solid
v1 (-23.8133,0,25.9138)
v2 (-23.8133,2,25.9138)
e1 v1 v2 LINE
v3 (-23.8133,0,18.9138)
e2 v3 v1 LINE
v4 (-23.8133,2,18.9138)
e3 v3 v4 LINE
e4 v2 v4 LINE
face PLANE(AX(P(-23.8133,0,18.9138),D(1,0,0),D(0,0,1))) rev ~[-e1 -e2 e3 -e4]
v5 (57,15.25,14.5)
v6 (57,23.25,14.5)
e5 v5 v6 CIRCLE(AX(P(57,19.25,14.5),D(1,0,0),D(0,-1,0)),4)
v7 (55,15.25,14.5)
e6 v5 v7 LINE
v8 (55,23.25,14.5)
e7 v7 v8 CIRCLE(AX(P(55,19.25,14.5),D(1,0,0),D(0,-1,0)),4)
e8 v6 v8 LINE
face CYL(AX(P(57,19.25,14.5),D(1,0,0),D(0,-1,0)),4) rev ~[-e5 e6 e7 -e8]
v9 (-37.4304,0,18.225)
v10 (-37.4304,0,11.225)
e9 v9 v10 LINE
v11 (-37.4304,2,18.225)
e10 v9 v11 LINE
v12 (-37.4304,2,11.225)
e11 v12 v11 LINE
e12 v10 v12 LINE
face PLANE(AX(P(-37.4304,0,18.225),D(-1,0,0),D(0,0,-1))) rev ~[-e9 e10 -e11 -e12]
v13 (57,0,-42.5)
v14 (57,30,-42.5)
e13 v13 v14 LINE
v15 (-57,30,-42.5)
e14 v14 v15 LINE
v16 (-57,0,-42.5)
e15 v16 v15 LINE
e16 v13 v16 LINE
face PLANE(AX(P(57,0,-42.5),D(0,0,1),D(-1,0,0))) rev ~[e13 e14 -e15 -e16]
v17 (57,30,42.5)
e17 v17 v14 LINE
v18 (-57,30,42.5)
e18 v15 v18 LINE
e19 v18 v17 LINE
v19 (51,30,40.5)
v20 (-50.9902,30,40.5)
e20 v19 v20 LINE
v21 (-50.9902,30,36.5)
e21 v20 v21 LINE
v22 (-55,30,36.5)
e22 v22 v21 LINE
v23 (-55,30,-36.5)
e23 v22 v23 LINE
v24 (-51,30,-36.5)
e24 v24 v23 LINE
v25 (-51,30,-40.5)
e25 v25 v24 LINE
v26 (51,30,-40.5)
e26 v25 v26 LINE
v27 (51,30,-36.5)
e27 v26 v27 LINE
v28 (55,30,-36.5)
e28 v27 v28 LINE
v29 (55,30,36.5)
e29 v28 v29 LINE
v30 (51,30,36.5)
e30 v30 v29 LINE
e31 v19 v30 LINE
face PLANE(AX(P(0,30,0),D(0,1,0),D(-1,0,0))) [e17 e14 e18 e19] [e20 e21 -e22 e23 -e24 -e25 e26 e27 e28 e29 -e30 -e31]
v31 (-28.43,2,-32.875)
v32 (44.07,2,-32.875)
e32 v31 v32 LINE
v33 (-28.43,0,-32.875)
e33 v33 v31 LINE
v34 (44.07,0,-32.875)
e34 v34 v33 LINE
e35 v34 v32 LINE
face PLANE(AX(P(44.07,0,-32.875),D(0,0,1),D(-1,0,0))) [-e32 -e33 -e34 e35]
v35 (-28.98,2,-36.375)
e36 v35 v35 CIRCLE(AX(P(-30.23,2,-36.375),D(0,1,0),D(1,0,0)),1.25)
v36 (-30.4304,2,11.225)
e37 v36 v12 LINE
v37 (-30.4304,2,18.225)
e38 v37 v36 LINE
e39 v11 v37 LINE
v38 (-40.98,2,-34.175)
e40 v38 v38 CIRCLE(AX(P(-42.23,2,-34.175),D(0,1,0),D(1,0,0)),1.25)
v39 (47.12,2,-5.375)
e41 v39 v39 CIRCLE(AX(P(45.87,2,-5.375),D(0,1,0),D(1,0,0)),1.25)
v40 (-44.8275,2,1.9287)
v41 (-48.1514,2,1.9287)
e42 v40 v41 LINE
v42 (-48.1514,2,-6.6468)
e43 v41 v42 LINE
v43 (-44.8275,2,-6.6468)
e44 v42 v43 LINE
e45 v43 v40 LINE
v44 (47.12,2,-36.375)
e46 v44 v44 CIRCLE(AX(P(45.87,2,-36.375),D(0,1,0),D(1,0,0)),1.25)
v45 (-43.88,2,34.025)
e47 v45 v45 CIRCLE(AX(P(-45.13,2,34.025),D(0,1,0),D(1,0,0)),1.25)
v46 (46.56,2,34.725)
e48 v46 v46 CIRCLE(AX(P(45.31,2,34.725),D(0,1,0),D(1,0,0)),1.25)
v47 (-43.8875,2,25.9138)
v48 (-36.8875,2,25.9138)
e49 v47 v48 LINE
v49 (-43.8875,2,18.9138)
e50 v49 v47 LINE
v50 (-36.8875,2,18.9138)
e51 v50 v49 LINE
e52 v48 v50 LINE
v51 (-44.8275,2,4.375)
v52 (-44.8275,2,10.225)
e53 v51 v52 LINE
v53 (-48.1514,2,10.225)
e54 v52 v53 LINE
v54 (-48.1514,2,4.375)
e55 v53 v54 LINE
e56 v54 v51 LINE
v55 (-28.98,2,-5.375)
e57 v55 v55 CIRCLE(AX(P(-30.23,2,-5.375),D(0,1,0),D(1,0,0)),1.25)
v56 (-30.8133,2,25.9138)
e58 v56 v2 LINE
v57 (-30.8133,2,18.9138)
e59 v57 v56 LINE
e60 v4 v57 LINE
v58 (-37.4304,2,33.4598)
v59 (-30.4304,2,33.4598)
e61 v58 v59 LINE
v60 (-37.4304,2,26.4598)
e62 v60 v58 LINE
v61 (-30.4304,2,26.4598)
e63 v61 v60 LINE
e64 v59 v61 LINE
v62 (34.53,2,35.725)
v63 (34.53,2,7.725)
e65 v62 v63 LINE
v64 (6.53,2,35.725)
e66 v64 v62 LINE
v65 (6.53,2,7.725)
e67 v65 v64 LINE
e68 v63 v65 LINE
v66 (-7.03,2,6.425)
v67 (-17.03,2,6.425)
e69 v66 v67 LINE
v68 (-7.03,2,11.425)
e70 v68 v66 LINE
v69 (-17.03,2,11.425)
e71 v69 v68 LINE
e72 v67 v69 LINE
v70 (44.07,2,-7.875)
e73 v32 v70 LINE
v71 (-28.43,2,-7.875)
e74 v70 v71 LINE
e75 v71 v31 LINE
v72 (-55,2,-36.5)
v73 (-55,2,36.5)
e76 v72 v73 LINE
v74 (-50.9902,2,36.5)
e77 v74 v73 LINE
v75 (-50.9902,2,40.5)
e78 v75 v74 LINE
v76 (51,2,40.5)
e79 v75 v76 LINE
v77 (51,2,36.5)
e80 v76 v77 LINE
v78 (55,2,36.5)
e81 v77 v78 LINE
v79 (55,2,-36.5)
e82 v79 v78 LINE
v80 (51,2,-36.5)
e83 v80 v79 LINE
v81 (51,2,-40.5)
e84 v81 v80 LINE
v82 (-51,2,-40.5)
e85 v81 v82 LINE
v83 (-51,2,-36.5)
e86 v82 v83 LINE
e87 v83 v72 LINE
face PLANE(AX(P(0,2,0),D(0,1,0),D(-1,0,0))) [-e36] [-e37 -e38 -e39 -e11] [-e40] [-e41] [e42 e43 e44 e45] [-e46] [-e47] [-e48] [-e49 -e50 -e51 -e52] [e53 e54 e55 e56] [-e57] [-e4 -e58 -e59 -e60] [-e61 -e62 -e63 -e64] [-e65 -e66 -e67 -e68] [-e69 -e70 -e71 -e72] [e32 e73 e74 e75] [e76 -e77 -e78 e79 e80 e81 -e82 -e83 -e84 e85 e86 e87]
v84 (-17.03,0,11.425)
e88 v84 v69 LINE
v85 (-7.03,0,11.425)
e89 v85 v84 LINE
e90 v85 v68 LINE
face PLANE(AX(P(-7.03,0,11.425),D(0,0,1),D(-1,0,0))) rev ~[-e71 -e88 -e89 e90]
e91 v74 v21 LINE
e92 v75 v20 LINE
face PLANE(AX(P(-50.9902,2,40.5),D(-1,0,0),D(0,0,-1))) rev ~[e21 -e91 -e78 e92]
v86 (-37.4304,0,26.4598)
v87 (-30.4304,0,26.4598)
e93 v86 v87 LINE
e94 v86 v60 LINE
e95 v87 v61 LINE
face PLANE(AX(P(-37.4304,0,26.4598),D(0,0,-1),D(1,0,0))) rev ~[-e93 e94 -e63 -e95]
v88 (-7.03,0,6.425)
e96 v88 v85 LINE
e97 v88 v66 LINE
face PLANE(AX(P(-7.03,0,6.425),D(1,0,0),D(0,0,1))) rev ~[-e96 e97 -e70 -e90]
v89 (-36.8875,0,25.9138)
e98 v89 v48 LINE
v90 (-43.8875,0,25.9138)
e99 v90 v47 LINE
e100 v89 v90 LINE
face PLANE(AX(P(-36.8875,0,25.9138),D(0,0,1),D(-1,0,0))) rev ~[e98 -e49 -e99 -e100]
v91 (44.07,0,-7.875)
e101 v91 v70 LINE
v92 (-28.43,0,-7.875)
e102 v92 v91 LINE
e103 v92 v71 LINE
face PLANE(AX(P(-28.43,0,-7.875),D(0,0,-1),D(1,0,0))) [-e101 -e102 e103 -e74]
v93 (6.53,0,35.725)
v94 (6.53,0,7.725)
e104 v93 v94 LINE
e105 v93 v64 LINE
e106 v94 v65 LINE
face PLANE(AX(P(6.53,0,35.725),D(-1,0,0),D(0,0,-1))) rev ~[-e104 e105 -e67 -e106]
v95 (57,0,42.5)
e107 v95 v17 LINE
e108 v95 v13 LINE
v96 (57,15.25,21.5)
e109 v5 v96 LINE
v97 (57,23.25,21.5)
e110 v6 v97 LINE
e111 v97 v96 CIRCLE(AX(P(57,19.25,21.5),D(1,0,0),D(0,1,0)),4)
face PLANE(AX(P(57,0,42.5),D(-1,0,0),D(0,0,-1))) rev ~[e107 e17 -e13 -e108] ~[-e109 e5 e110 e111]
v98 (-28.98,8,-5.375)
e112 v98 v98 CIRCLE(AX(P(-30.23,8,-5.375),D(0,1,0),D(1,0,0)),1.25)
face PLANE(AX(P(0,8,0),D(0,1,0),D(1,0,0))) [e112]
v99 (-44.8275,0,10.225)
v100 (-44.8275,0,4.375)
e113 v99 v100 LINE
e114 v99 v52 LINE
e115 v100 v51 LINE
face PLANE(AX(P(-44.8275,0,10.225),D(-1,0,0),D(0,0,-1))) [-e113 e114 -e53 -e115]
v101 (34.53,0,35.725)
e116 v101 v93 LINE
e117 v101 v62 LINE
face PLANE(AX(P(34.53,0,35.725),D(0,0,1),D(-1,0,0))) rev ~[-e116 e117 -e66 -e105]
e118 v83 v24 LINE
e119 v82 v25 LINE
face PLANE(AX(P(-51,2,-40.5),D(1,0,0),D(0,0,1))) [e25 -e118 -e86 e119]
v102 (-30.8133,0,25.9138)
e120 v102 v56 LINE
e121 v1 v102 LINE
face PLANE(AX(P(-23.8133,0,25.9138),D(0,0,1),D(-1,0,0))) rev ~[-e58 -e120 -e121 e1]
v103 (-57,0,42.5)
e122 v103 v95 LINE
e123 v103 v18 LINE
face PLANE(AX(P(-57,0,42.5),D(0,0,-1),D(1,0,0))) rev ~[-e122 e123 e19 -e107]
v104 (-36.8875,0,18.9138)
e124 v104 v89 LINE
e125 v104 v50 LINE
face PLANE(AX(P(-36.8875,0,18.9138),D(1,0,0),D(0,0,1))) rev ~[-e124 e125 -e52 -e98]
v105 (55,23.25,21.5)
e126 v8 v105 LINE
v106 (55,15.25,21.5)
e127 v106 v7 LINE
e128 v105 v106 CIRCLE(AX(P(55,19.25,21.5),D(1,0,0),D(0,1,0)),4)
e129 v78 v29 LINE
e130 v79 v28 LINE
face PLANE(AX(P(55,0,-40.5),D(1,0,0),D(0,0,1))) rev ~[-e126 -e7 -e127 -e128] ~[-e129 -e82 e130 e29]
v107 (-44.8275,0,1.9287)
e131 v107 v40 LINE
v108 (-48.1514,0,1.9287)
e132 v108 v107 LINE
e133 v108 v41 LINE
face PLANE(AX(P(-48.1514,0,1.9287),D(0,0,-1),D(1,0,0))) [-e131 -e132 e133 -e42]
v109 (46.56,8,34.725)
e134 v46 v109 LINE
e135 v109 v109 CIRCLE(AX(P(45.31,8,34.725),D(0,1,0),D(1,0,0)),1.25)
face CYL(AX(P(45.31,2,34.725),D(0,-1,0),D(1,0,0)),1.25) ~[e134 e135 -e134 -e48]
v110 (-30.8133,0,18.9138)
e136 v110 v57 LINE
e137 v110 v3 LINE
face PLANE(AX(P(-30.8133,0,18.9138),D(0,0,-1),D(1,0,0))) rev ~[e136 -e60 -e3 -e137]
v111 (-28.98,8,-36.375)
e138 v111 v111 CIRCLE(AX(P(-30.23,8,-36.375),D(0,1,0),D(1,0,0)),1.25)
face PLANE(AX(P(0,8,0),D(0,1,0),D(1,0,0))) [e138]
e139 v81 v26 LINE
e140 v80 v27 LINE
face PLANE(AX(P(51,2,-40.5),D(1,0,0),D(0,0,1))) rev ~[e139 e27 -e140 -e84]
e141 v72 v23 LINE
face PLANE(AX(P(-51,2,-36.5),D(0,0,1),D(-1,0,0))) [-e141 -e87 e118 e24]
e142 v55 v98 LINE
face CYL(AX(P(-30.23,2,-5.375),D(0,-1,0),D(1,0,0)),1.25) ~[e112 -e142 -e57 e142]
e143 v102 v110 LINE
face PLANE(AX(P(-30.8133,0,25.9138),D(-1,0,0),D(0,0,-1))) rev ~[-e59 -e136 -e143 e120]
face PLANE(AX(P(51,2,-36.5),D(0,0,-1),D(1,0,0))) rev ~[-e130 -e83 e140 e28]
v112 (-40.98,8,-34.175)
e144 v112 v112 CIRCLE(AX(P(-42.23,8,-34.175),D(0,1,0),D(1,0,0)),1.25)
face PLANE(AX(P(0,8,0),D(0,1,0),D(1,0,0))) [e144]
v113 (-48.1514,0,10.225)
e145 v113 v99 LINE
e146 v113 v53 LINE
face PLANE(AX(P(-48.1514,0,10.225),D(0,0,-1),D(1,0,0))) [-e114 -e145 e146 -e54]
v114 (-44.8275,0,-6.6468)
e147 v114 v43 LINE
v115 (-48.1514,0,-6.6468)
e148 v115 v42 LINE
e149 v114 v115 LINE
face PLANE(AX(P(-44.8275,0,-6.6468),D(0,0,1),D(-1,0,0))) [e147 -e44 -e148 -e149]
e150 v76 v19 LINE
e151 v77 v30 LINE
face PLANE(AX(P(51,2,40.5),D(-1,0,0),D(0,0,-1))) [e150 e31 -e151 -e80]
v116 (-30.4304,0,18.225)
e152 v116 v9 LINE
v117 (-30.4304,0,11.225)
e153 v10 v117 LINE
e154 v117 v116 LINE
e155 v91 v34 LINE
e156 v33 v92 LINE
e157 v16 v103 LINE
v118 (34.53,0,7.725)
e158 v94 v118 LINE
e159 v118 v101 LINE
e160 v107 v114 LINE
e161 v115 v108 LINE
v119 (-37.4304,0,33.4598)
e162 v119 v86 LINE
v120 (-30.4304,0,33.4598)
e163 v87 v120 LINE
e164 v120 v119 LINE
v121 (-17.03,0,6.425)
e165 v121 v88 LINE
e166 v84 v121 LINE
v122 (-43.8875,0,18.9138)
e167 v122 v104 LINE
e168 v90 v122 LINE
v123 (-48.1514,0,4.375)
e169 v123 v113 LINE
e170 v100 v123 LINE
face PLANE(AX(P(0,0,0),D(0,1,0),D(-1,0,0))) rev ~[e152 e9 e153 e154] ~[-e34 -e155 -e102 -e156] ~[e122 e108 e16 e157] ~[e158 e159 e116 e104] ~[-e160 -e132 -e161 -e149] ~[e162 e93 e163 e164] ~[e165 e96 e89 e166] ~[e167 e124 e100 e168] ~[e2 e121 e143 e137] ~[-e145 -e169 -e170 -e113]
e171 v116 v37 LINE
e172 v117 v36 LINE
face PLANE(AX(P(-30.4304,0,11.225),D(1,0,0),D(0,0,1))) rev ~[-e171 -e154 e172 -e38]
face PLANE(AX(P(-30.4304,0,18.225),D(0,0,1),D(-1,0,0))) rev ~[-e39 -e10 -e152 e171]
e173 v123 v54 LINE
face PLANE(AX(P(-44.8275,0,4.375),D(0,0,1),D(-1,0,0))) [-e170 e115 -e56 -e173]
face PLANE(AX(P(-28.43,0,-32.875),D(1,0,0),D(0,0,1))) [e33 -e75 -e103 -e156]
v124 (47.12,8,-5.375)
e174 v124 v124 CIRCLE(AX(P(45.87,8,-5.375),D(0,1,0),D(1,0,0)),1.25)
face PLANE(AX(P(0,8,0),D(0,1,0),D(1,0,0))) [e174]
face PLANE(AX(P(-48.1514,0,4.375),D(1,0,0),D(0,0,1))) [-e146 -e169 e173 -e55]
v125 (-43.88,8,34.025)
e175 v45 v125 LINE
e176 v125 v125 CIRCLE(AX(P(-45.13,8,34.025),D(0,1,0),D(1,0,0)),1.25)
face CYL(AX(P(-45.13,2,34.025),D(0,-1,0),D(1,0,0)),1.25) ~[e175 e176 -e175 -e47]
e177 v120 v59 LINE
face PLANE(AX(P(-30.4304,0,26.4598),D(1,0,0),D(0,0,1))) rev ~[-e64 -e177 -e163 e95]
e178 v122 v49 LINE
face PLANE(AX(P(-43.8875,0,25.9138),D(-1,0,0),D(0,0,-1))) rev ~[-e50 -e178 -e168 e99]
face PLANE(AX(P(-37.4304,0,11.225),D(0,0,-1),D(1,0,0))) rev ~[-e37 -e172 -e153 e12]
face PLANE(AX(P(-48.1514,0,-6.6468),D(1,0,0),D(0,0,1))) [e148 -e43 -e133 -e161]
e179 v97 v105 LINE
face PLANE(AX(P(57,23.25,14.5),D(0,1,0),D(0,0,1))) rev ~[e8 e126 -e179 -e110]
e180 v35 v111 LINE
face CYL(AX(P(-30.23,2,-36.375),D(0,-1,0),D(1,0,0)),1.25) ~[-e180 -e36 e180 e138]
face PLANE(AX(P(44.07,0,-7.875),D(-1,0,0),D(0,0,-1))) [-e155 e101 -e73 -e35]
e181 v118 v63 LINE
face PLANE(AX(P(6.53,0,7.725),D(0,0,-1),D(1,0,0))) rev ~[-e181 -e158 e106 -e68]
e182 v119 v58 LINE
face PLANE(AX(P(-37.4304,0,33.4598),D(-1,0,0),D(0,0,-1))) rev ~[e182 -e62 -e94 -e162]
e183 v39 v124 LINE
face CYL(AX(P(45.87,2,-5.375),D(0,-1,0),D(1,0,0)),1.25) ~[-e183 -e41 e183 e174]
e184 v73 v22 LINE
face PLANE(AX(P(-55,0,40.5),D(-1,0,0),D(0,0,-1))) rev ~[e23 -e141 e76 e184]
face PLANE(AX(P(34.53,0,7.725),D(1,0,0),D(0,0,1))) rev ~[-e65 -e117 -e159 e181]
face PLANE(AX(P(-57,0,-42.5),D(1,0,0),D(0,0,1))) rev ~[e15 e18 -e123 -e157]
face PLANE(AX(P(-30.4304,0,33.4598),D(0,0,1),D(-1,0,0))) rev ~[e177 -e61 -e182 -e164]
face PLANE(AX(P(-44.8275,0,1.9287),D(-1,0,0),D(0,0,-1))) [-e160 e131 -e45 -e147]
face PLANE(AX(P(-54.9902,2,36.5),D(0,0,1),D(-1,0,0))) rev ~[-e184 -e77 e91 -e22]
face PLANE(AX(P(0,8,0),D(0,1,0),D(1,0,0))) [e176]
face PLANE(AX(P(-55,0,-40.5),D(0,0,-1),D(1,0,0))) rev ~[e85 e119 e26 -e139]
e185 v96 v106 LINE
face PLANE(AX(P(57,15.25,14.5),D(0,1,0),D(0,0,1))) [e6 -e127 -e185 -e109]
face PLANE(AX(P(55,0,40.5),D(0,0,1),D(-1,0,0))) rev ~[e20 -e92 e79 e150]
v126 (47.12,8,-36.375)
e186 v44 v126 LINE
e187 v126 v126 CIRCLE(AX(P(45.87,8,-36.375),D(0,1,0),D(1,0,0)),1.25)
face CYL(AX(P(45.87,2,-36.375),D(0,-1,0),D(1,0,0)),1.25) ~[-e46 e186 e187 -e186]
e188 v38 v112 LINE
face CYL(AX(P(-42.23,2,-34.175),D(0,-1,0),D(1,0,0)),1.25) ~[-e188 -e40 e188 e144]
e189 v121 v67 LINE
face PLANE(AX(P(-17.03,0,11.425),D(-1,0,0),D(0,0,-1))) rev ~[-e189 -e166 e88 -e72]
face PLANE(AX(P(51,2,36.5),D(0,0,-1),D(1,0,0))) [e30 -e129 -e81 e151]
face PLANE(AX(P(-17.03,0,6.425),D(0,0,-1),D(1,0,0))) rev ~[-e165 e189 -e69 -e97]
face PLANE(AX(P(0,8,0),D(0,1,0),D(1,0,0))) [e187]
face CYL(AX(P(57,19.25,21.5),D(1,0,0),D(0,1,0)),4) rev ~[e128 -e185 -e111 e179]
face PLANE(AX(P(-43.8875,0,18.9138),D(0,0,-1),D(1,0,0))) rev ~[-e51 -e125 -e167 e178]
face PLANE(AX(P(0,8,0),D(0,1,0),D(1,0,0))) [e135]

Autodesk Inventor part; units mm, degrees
ref_plane "YZ Plane" through (0, 0, 0) normal (1, 0, 0) x (0, 1, 0)
ref_plane "XZ Plane" through (0, 0, 0) normal (0, 1, 0) x (-1, 0, 0)
ref_plane "XY Plane" through (0, 0, 0) normal (0, 0, 1) x (1, 0, 0)
sketch "Sketch1" plane through (0, 0, 0) normal (0, 1, 0) x (-1, 0, 0)
  line L0 (55, -40.5) -> (-55, -40.5)
  line L1 (-55, -40.5) -> (-55, 40.5)
  line L2 (-55, 40.5) -> (55, 40.5)
  line L3 (55, 40.5) -> (55, -40.5)
  line L4 (55, -40.5) -> (-55, 40.5) construction
  line L5 (-55, -40.5) -> (55, 40.5) construction
  line L6 (57, 42.5) -> (-57, 42.5)
  line L7 (-57, 42.5) -> (-57, -42.5)
  line L8 (-57, -42.5) -> (57, -42.5)
  line L9 (57, -42.5) -> (57, 42.5)
  line L10 (57, 42.5) -> (-57, -42.5) construction
  line L11 (-57, 42.5) -> (57, -42.5) construction
  line L12 (50.43, 39.125) -> (-50.43, 39.125)
  line L13 (-50.43, 39.125) -> (-50.43, -39.125)
  line L14 (-50.43, -39.125) -> (50.43, -39.125)
  line L15 (50.43, -39.125) -> (50.43, 39.125)
  line L16 (50.43, 39.125) -> (-50.43, -39.125) construction
  line L17 (-50.43, 39.125) -> (50.43, -39.125) construction
  point P0 (0, 0)
  dimension "d0" = 110
  dimension "d1" = 81
  dimension "d2" = 114
  dimension "d3" = 85
  dimension "d190" = 100.86
  dimension "d191" = 78.25
extrude "Extrusion1" add sketch "Sketch1" along normal blind 30 contours L9 L8 L7 L6
sketch "Sketch2" plane through (0, 0, 0) normal (0, 1, 0) x (-1, 0, 0)
  line L0 (-55, -40.5) -> (-55, 40.5) projected
  line L1 (55, 40.5) -> (-55, 40.5)
  line L2 (-55, 40.5) -> (-55, -40.5)
  line L3 (-55, -40.5) -> (55, -40.5)
  line L4 (55, -40.5) -> (55, 40.5)
  line L5 (55, 40.5) -> (-55, -40.5) construction
  line L6 (-55, 40.5) -> (55, -40.5) construction
  point P0 (0, 0)
extrude "Extrusion2" add sketch "Sketch2" along normal blind 2
sketch "Sketch3" plane through (0, 0, 0) normal (0, -1, 0) x (1, 0, 0)
  line L0 (44.07, -32.875) -> (-28.43, -32.875)
  line L1 (-28.43, -32.875) -> (-28.43, -7.875)
  line L2 (-28.43, -7.875) -> (44.07, -7.875)
  line L3 (44.07, -7.875) -> (44.07, -32.875)
  line L4 (34.53, 35.725) -> (6.53, 35.725)
  line L5 (6.53, 35.725) -> (6.53, 7.725)
  line L6 (6.53, 7.725) -> (34.53, 7.725)
  line L7 (34.53, 7.725) -> (34.53, 35.725)
  line L8 (-7.03, 11.425) -> (-17.03, 11.425)
  line L9 (-17.03, 11.425) -> (-17.03, 6.425)
  line L10 (-17.03, 6.425) -> (-7.03, 6.425)
  line L11 (-7.03, 6.425) -> (-7.03, 11.425)
  line L12 (50.43, 39.125) -> (-50.43, 39.125)
  line L13 (-50.43, 39.125) -> (-50.43, -39.125)
  line L14 (-50.43, -39.125) -> (50.43, -39.125)
  line L15 (50.43, -39.125) -> (50.43, 39.125)
  line L16 (50.43, 39.125) -> (-50.43, -39.125) construction
  line L17 (-50.43, 39.125) -> (50.43, -39.125) construction
  line L18 (-30.4304, 18.225) -> (-37.4304, 18.225)
  line L19 (-37.4304, 18.225) -> (-37.4304, 11.225)
  line L20 (-37.4304, 11.225) -> (-30.4304, 11.225)
  line L21 (-30.4304, 11.225) -> (-30.4304, 18.225)
  line L22 (-30.4304, 18.225) -> (-37.4304, 11.225) construction
  line L23 (-37.4304, 18.225) -> (-30.4304, 11.225) construction
  line L24 (-30.4304, 33.4598) -> (-37.4304, 33.4598)
  line L25 (-37.4304, 33.4598) -> (-37.4304, 26.4598)
  line L26 (-37.4304, 26.4598) -> (-30.4304, 26.4598)
  line L27 (-30.4304, 26.4598) -> (-30.4304, 33.4598)
  line L28 (-30.4304, 33.4598) -> (-37.4304, 26.4598) construction
  line L29 (-37.4304, 33.4598) -> (-30.4304, 26.4598) construction
  line L30 (-23.8133, 25.9138) -> (-30.8133, 25.9138)
  line L31 (-30.8133, 25.9138) -> (-30.8133, 18.9138)
  line L32 (-30.8133, 18.9138) -> (-23.8133, 18.9138)
  line L33 (-23.8133, 18.9138) -> (-23.8133, 25.9138)
  line L34 (-23.8133, 25.9138) -> (-30.8133, 18.9138) construction
  line L35 (-30.8133, 25.9138) -> (-23.8133, 18.9138) construction
  line L36 (-36.8875, 25.9138) -> (-43.8875, 25.9138)
  line L37 (-43.8875, 25.9138) -> (-43.8875, 18.9138)
  line L38 (-43.8875, 18.9138) -> (-36.8875, 18.9138)
  line L39 (-36.8875, 18.9138) -> (-36.8875, 25.9138)
  line L40 (-36.8875, 25.9138) -> (-43.8875, 18.9138) construction
  line L41 (-43.8875, 25.9138) -> (-36.8875, 18.9138) construction
  line L42 (-50.43, 39.125) -> (50.4731, 39.0489) construction
  line L43 (50.4731, 39.0489) -> (50.4141, -39.1891) construction
  line L44 (50.4141, -39.1891) -> (-50.489, -39.113) construction
  line L45 (-50.489, -39.113) -> (-50.43, 39.125) construction
  line L46 (17.9042, 35.3523) -> (15.6181, 35.3523)
  line L47 (47.7465, 12.6947) -> (44.5311, 12.6947)
  line L48 (46.7465, 20.4524) -> (43.1682, 20.4524)
  line L49 (-57, 42.5) -> (57, 42.5) projected
  line L50 (-44.8275, -6.6468) -> (-48.1514, -6.6468)
  line L51 (-48.1514, -6.6468) -> (-48.1514, 1.9287)
  line L52 (-48.1514, 1.9287) -> (-44.8275, 1.9287)
  line L53 (-44.8275, 1.9287) -> (-44.8275, -6.6468)
  line L54 (-44.8275, 4.375) -> (-48.1514, 4.375)
  line L55 (-48.1514, 4.375) -> (-48.1514, 10.225)
  line L56 (-48.1514, 10.225) -> (-44.8275, 10.225)
  line L57 (-44.8275, 10.225) -> (-44.8275, 4.375)
  point P0 (0, 0)
  point P1 (-33.9304, 14.725)
  point P2 (-33.9304, 29.9598)
  point P3 (-27.3133, 22.4138)
  point P4 (-40.3875, 22.4138)
  point P5 (46.1388, 12.6947)
  dimension "d8" = 72.5
  dimension "d9" = 25
  dimension "d18" = 28
  dimension "d19" = 28
  dimension "d20" = 10
  dimension "d21" = 5
  dimension "d22" = 100.86
  dimension "d23" = 78.25
  dimension "d31" = 3.4
  dimension "d32" = 15.9
  dimension "d33" = 22
  dimension "d35" = 33.4
  dimension "d36" = 27.7
  dimension "d45" = 7
  dimension "d46" = 7
  dimension "d47" = 7
  dimension "d48" = 7
  dimension "d135" = 7
  dimension "d136" = 7
  dimension "d137" = 7
  dimension "d138" = 7
  dimension "d203" = 47
  dimension "d580" = 3.7727
  dimension "d585" = 22.0476
extrude "Extrusion3" cut sketch "Sketch3" against normal blind 30 contours L0 L1 L2 L3 | L7 L6 L5 L4 | L11 L10 L9 L8 | L21 L20 L19 L18 | L27 L26 L25 L24 | L33 L32 L31 L30 | L39 L38 L37 L36 | L50 L51 L52 L53 | L54 L55 L56 L57
sketch "Sketch4" plane through (0, 2, 0) normal (0, 1, 0) x (1, 0, 0)
  circle A0 centre (-45.13, -34.025) radius 1.25
  line L0 (55, -40.5) -> (-55, -40.5) projected
  line L1 (-55, -40.5) -> (-55, 40.5) projected
  circle A1 centre (-42.23, 34.175) radius 1.25
  line L2 (-55, 40.5) -> (55, 40.5) projected
  circle A2 centre (45.31, -34.725) radius 1.25
  line L3 (55, 40.5) -> (55, -40.5) projected
  line L4 (-50.43, -39.125) -> (50.43, -39.125)
  line L5 (50.43, -39.125) -> (50.43, 39.125)
  line L6 (50.43, 39.125) -> (-50.43, 39.125)
  line L7 (-50.43, 39.125) -> (-50.43, -39.125)
  line L8 (-50.43, -39.125) -> (50.43, 39.125) construction
  line L9 (50.43, -39.125) -> (-50.43, 39.125) construction
  circle A3 centre (-30.23, 36.375) radius 1.25
  circle A4 centre (45.87, 36.375) radius 1.25
  circle A5 centre (-30.23, 5.375) radius 1.25
  circle A6 centre (45.87, 5.375) radius 1.25
  line L10 (-28.43, 7.875) -> (-28.43, 32.875) projected
  line L11 (44.07, 32.875) -> (44.07, 7.875) projected
  line L12 (-28.43, 32.875) -> (44.07, 32.875) projected
  line L13 (44.07, 7.875) -> (-28.43, 7.875) projected
  line L14 (-50.43, 39.125) -> (50.4734, 39.0562) construction
  line L15 (50.4734, 39.0562) -> (50.42, -39.1821) construction
  line L16 (50.42, -39.1821) -> (-50.4834, -39.1133) construction
  line L17 (-50.4834, -39.1133) -> (-50.43, 39.125) construction
  point P0 (0, 0)
  dimension "d181" = 2.5
  dimension "d184" = 2.5
  dimension "d187" = 2.5
  dimension "d192" = 100.86
  dimension "d193" = 78.25
  dimension "d194" = 8.2
  dimension "d195" = 4.95
  dimension "d196" = 5.3
  dimension "d197" = 5.1
  dimension "d198" = 5.12
  dimension "d199" = 4.4
  dimension "d204" = 2.5
  dimension "d205" = 2.5
  dimension "d206" = 2.5
  dimension "d207" = 2.5
  dimension "d209" = 1.8
  dimension "d211" = 1.8
  dimension "d212" = 1.8
  dimension "d213" = 1.8
  dimension "d214" = 3.5
  dimension "d215" = 3.5
  dimension "d216" = 2.5
  dimension "d217" = 2.5
extrude "Extrusion4" add sketch "Sketch4" along normal blind 6 contours A0 | A1 | A2 | A3 | A4 | A5 | A6
sketch "Sketch5" plane through (0, 2, 0) normal (0, 1, 0) x (1, 0, 0)
  line L0 (50.43, 39.125) -> (-50.43, 39.125)
  line L1 (-50.43, 39.125) -> (-50.43, -39.125)
  line L2 (-50.43, -39.125) -> (50.43, -39.125)
  line L3 (50.43, -39.125) -> (50.43, 39.125)
  line L4 (50.43, 39.125) -> (-50.43, -39.125) construction
  line L5 (-50.43, 39.125) -> (50.43, -39.125) construction
  point P0 (0, 0)
  dimension "d352" = 78.25
  dimension "d353" = 100.86
sketch "Sketch6" plane through (0, 2, 0) normal (0, 1, 0) x (1, 0, 0)
  line L0 (55, -40.5) -> (-55, -40.5) projected
  line L1 (55, -40.5) -> (51, -40.5)
  line L2 (51, -40.5) -> (51, -36.5)
  line L3 (51, -36.5) -> (55, -36.5)
  line L4 (55, -36.5) -> (55, -40.5)
  line L5 (-55, 40.5) -> (55, 40.5) projected
  line L6 (55, 40.5) -> (51, 40.5)
  line L7 (51, 40.5) -> (51, 36.5)
  line L8 (51, 36.5) -> (55, 36.5)
  line L9 (55, 36.5) -> (55, 40.5)
  line L10 (-54.9902, -40.5) -> (-50.9902, -40.5)
  line L11 (-50.9902, -40.5) -> (-50.9902, -36.5)
  line L12 (-50.9902, -36.5) -> (-54.9902, -36.5)
  line L13 (-54.9902, -36.5) -> (-55, -36.5)
  line L14 (55, -40.5) -> (-55, -40.5) projected
  line L15 (-50.9902, -40.5) -> (-55, -40.5)
  line L16 (-55, -40.5) -> (-55, -36.5)
  line L17 (-55, 40.5) -> (55, 40.5) projected
  line L18 (-50.424, 39.0879) -> (50.4561, 39.0879) construction
  line L19 (50.4561, 39.0879) -> (50.4561, -39.1323) construction
  line L20 (50.4561, -39.1323) -> (-50.424, -39.1323) construction
  line L21 (-50.424, -39.1323) -> (-50.424, 39.0879) construction
  line L22 (-49.2051, 39.0879) -> (-45.6234, 39.0879)
  line L23 (-48.1397, 6.687) -> (-44.6458, 6.687)
  line L24 (-48.2072, -10.3595) -> (-44.6458, -10.3595)
  line L25 (-55, 40.5) -> (-51, 40.5)
  line L26 (-51, 40.5) -> (-51, 36.5)
  line L27 (-51, 36.5) -> (-55, 36.5)
  line L28 (-55, 36.5) -> (-55, 40.5)
  line L29 (-51, 40.5) -> (51, 40.5)
  line L30 (57, 42.5) -> (-57, 42.5) projected
  line L31 (55, 36.5) -> (55, -36.5)
  line L32 (51, -40.5) -> (-50.9902, -40.5)
  line L33 (-55, -36.5) -> (-55, 36.5)
  line L34 (55, 40.5) -> (55, -40.5) projected
  line L35 (55, 40.5) -> (55, -40.5)
  line L36 (55, 40.5) -> (55, -40.5)
  point P0 (0, 0)
  dimension "d443" = 4
  dimension "d444" = 4
  dimension "d445" = 4
  dimension "d446" = 4
  dimension "d447" = 4
  dimension "d448" = 4
  dimension "d564" = 30.1405
  dimension "d591" = 4
  dimension "d592" = 4
  dimension "d599" = 110
  dimension "d600" = 81
extrude "Extrusion5" add sketch "Sketch6" along normal up to surface (28 mm away) contours L0 L2 L3 L4 | L0 L16 L13 L12 L11 | L8 L7 L5 L9 | L26 L27 L28 L5
sketch "Sketch8" plane through (57, 0, 42.5) normal (1, 0, 0) x (0, 0, -1)
  line L0 (28, 23.25) -> (28, 15.25) construction
  line L1 (28, 23.25) -> (36, 23.25) construction
  line L2 (28, 15.25) -> (21, 15.25)
  line L3 (21, 15.25) -> (22.6917, 15.25)
  line L4 (28, 23.25) -> (21, 23.25)
  arc A0 (21, 23.25) -> (21, 15.25) centre (21, 19.25) ccw
  arc A1 (28, 15.25) -> (28, 23.25) centre (28, 19.25) ccw
  line L5 (0, 30) -> (85, 30) projected
  line L6 (0, 0) -> (0, 30) projected
  line L7 (0, 0) -> (85, 0) projected
  line L8 (24.5, 23.25) -> (24.5, 15.25) construction
  point P0 (42.5, 0)
  point P1 (0, 15)
  point P2 (17, 19.25)
  point P3 (24.5, 19.25)
  dimension "d573" = 90
  dimension "d574" = 7
  dimension "d609" = 24.5
  dimension "d610" = 8
  dimension "d611" = 10.75
extrude "Extrusion9" cut sketch "Sketch8" against normal blind 3
properties part number "plant watner 2.0 case"
